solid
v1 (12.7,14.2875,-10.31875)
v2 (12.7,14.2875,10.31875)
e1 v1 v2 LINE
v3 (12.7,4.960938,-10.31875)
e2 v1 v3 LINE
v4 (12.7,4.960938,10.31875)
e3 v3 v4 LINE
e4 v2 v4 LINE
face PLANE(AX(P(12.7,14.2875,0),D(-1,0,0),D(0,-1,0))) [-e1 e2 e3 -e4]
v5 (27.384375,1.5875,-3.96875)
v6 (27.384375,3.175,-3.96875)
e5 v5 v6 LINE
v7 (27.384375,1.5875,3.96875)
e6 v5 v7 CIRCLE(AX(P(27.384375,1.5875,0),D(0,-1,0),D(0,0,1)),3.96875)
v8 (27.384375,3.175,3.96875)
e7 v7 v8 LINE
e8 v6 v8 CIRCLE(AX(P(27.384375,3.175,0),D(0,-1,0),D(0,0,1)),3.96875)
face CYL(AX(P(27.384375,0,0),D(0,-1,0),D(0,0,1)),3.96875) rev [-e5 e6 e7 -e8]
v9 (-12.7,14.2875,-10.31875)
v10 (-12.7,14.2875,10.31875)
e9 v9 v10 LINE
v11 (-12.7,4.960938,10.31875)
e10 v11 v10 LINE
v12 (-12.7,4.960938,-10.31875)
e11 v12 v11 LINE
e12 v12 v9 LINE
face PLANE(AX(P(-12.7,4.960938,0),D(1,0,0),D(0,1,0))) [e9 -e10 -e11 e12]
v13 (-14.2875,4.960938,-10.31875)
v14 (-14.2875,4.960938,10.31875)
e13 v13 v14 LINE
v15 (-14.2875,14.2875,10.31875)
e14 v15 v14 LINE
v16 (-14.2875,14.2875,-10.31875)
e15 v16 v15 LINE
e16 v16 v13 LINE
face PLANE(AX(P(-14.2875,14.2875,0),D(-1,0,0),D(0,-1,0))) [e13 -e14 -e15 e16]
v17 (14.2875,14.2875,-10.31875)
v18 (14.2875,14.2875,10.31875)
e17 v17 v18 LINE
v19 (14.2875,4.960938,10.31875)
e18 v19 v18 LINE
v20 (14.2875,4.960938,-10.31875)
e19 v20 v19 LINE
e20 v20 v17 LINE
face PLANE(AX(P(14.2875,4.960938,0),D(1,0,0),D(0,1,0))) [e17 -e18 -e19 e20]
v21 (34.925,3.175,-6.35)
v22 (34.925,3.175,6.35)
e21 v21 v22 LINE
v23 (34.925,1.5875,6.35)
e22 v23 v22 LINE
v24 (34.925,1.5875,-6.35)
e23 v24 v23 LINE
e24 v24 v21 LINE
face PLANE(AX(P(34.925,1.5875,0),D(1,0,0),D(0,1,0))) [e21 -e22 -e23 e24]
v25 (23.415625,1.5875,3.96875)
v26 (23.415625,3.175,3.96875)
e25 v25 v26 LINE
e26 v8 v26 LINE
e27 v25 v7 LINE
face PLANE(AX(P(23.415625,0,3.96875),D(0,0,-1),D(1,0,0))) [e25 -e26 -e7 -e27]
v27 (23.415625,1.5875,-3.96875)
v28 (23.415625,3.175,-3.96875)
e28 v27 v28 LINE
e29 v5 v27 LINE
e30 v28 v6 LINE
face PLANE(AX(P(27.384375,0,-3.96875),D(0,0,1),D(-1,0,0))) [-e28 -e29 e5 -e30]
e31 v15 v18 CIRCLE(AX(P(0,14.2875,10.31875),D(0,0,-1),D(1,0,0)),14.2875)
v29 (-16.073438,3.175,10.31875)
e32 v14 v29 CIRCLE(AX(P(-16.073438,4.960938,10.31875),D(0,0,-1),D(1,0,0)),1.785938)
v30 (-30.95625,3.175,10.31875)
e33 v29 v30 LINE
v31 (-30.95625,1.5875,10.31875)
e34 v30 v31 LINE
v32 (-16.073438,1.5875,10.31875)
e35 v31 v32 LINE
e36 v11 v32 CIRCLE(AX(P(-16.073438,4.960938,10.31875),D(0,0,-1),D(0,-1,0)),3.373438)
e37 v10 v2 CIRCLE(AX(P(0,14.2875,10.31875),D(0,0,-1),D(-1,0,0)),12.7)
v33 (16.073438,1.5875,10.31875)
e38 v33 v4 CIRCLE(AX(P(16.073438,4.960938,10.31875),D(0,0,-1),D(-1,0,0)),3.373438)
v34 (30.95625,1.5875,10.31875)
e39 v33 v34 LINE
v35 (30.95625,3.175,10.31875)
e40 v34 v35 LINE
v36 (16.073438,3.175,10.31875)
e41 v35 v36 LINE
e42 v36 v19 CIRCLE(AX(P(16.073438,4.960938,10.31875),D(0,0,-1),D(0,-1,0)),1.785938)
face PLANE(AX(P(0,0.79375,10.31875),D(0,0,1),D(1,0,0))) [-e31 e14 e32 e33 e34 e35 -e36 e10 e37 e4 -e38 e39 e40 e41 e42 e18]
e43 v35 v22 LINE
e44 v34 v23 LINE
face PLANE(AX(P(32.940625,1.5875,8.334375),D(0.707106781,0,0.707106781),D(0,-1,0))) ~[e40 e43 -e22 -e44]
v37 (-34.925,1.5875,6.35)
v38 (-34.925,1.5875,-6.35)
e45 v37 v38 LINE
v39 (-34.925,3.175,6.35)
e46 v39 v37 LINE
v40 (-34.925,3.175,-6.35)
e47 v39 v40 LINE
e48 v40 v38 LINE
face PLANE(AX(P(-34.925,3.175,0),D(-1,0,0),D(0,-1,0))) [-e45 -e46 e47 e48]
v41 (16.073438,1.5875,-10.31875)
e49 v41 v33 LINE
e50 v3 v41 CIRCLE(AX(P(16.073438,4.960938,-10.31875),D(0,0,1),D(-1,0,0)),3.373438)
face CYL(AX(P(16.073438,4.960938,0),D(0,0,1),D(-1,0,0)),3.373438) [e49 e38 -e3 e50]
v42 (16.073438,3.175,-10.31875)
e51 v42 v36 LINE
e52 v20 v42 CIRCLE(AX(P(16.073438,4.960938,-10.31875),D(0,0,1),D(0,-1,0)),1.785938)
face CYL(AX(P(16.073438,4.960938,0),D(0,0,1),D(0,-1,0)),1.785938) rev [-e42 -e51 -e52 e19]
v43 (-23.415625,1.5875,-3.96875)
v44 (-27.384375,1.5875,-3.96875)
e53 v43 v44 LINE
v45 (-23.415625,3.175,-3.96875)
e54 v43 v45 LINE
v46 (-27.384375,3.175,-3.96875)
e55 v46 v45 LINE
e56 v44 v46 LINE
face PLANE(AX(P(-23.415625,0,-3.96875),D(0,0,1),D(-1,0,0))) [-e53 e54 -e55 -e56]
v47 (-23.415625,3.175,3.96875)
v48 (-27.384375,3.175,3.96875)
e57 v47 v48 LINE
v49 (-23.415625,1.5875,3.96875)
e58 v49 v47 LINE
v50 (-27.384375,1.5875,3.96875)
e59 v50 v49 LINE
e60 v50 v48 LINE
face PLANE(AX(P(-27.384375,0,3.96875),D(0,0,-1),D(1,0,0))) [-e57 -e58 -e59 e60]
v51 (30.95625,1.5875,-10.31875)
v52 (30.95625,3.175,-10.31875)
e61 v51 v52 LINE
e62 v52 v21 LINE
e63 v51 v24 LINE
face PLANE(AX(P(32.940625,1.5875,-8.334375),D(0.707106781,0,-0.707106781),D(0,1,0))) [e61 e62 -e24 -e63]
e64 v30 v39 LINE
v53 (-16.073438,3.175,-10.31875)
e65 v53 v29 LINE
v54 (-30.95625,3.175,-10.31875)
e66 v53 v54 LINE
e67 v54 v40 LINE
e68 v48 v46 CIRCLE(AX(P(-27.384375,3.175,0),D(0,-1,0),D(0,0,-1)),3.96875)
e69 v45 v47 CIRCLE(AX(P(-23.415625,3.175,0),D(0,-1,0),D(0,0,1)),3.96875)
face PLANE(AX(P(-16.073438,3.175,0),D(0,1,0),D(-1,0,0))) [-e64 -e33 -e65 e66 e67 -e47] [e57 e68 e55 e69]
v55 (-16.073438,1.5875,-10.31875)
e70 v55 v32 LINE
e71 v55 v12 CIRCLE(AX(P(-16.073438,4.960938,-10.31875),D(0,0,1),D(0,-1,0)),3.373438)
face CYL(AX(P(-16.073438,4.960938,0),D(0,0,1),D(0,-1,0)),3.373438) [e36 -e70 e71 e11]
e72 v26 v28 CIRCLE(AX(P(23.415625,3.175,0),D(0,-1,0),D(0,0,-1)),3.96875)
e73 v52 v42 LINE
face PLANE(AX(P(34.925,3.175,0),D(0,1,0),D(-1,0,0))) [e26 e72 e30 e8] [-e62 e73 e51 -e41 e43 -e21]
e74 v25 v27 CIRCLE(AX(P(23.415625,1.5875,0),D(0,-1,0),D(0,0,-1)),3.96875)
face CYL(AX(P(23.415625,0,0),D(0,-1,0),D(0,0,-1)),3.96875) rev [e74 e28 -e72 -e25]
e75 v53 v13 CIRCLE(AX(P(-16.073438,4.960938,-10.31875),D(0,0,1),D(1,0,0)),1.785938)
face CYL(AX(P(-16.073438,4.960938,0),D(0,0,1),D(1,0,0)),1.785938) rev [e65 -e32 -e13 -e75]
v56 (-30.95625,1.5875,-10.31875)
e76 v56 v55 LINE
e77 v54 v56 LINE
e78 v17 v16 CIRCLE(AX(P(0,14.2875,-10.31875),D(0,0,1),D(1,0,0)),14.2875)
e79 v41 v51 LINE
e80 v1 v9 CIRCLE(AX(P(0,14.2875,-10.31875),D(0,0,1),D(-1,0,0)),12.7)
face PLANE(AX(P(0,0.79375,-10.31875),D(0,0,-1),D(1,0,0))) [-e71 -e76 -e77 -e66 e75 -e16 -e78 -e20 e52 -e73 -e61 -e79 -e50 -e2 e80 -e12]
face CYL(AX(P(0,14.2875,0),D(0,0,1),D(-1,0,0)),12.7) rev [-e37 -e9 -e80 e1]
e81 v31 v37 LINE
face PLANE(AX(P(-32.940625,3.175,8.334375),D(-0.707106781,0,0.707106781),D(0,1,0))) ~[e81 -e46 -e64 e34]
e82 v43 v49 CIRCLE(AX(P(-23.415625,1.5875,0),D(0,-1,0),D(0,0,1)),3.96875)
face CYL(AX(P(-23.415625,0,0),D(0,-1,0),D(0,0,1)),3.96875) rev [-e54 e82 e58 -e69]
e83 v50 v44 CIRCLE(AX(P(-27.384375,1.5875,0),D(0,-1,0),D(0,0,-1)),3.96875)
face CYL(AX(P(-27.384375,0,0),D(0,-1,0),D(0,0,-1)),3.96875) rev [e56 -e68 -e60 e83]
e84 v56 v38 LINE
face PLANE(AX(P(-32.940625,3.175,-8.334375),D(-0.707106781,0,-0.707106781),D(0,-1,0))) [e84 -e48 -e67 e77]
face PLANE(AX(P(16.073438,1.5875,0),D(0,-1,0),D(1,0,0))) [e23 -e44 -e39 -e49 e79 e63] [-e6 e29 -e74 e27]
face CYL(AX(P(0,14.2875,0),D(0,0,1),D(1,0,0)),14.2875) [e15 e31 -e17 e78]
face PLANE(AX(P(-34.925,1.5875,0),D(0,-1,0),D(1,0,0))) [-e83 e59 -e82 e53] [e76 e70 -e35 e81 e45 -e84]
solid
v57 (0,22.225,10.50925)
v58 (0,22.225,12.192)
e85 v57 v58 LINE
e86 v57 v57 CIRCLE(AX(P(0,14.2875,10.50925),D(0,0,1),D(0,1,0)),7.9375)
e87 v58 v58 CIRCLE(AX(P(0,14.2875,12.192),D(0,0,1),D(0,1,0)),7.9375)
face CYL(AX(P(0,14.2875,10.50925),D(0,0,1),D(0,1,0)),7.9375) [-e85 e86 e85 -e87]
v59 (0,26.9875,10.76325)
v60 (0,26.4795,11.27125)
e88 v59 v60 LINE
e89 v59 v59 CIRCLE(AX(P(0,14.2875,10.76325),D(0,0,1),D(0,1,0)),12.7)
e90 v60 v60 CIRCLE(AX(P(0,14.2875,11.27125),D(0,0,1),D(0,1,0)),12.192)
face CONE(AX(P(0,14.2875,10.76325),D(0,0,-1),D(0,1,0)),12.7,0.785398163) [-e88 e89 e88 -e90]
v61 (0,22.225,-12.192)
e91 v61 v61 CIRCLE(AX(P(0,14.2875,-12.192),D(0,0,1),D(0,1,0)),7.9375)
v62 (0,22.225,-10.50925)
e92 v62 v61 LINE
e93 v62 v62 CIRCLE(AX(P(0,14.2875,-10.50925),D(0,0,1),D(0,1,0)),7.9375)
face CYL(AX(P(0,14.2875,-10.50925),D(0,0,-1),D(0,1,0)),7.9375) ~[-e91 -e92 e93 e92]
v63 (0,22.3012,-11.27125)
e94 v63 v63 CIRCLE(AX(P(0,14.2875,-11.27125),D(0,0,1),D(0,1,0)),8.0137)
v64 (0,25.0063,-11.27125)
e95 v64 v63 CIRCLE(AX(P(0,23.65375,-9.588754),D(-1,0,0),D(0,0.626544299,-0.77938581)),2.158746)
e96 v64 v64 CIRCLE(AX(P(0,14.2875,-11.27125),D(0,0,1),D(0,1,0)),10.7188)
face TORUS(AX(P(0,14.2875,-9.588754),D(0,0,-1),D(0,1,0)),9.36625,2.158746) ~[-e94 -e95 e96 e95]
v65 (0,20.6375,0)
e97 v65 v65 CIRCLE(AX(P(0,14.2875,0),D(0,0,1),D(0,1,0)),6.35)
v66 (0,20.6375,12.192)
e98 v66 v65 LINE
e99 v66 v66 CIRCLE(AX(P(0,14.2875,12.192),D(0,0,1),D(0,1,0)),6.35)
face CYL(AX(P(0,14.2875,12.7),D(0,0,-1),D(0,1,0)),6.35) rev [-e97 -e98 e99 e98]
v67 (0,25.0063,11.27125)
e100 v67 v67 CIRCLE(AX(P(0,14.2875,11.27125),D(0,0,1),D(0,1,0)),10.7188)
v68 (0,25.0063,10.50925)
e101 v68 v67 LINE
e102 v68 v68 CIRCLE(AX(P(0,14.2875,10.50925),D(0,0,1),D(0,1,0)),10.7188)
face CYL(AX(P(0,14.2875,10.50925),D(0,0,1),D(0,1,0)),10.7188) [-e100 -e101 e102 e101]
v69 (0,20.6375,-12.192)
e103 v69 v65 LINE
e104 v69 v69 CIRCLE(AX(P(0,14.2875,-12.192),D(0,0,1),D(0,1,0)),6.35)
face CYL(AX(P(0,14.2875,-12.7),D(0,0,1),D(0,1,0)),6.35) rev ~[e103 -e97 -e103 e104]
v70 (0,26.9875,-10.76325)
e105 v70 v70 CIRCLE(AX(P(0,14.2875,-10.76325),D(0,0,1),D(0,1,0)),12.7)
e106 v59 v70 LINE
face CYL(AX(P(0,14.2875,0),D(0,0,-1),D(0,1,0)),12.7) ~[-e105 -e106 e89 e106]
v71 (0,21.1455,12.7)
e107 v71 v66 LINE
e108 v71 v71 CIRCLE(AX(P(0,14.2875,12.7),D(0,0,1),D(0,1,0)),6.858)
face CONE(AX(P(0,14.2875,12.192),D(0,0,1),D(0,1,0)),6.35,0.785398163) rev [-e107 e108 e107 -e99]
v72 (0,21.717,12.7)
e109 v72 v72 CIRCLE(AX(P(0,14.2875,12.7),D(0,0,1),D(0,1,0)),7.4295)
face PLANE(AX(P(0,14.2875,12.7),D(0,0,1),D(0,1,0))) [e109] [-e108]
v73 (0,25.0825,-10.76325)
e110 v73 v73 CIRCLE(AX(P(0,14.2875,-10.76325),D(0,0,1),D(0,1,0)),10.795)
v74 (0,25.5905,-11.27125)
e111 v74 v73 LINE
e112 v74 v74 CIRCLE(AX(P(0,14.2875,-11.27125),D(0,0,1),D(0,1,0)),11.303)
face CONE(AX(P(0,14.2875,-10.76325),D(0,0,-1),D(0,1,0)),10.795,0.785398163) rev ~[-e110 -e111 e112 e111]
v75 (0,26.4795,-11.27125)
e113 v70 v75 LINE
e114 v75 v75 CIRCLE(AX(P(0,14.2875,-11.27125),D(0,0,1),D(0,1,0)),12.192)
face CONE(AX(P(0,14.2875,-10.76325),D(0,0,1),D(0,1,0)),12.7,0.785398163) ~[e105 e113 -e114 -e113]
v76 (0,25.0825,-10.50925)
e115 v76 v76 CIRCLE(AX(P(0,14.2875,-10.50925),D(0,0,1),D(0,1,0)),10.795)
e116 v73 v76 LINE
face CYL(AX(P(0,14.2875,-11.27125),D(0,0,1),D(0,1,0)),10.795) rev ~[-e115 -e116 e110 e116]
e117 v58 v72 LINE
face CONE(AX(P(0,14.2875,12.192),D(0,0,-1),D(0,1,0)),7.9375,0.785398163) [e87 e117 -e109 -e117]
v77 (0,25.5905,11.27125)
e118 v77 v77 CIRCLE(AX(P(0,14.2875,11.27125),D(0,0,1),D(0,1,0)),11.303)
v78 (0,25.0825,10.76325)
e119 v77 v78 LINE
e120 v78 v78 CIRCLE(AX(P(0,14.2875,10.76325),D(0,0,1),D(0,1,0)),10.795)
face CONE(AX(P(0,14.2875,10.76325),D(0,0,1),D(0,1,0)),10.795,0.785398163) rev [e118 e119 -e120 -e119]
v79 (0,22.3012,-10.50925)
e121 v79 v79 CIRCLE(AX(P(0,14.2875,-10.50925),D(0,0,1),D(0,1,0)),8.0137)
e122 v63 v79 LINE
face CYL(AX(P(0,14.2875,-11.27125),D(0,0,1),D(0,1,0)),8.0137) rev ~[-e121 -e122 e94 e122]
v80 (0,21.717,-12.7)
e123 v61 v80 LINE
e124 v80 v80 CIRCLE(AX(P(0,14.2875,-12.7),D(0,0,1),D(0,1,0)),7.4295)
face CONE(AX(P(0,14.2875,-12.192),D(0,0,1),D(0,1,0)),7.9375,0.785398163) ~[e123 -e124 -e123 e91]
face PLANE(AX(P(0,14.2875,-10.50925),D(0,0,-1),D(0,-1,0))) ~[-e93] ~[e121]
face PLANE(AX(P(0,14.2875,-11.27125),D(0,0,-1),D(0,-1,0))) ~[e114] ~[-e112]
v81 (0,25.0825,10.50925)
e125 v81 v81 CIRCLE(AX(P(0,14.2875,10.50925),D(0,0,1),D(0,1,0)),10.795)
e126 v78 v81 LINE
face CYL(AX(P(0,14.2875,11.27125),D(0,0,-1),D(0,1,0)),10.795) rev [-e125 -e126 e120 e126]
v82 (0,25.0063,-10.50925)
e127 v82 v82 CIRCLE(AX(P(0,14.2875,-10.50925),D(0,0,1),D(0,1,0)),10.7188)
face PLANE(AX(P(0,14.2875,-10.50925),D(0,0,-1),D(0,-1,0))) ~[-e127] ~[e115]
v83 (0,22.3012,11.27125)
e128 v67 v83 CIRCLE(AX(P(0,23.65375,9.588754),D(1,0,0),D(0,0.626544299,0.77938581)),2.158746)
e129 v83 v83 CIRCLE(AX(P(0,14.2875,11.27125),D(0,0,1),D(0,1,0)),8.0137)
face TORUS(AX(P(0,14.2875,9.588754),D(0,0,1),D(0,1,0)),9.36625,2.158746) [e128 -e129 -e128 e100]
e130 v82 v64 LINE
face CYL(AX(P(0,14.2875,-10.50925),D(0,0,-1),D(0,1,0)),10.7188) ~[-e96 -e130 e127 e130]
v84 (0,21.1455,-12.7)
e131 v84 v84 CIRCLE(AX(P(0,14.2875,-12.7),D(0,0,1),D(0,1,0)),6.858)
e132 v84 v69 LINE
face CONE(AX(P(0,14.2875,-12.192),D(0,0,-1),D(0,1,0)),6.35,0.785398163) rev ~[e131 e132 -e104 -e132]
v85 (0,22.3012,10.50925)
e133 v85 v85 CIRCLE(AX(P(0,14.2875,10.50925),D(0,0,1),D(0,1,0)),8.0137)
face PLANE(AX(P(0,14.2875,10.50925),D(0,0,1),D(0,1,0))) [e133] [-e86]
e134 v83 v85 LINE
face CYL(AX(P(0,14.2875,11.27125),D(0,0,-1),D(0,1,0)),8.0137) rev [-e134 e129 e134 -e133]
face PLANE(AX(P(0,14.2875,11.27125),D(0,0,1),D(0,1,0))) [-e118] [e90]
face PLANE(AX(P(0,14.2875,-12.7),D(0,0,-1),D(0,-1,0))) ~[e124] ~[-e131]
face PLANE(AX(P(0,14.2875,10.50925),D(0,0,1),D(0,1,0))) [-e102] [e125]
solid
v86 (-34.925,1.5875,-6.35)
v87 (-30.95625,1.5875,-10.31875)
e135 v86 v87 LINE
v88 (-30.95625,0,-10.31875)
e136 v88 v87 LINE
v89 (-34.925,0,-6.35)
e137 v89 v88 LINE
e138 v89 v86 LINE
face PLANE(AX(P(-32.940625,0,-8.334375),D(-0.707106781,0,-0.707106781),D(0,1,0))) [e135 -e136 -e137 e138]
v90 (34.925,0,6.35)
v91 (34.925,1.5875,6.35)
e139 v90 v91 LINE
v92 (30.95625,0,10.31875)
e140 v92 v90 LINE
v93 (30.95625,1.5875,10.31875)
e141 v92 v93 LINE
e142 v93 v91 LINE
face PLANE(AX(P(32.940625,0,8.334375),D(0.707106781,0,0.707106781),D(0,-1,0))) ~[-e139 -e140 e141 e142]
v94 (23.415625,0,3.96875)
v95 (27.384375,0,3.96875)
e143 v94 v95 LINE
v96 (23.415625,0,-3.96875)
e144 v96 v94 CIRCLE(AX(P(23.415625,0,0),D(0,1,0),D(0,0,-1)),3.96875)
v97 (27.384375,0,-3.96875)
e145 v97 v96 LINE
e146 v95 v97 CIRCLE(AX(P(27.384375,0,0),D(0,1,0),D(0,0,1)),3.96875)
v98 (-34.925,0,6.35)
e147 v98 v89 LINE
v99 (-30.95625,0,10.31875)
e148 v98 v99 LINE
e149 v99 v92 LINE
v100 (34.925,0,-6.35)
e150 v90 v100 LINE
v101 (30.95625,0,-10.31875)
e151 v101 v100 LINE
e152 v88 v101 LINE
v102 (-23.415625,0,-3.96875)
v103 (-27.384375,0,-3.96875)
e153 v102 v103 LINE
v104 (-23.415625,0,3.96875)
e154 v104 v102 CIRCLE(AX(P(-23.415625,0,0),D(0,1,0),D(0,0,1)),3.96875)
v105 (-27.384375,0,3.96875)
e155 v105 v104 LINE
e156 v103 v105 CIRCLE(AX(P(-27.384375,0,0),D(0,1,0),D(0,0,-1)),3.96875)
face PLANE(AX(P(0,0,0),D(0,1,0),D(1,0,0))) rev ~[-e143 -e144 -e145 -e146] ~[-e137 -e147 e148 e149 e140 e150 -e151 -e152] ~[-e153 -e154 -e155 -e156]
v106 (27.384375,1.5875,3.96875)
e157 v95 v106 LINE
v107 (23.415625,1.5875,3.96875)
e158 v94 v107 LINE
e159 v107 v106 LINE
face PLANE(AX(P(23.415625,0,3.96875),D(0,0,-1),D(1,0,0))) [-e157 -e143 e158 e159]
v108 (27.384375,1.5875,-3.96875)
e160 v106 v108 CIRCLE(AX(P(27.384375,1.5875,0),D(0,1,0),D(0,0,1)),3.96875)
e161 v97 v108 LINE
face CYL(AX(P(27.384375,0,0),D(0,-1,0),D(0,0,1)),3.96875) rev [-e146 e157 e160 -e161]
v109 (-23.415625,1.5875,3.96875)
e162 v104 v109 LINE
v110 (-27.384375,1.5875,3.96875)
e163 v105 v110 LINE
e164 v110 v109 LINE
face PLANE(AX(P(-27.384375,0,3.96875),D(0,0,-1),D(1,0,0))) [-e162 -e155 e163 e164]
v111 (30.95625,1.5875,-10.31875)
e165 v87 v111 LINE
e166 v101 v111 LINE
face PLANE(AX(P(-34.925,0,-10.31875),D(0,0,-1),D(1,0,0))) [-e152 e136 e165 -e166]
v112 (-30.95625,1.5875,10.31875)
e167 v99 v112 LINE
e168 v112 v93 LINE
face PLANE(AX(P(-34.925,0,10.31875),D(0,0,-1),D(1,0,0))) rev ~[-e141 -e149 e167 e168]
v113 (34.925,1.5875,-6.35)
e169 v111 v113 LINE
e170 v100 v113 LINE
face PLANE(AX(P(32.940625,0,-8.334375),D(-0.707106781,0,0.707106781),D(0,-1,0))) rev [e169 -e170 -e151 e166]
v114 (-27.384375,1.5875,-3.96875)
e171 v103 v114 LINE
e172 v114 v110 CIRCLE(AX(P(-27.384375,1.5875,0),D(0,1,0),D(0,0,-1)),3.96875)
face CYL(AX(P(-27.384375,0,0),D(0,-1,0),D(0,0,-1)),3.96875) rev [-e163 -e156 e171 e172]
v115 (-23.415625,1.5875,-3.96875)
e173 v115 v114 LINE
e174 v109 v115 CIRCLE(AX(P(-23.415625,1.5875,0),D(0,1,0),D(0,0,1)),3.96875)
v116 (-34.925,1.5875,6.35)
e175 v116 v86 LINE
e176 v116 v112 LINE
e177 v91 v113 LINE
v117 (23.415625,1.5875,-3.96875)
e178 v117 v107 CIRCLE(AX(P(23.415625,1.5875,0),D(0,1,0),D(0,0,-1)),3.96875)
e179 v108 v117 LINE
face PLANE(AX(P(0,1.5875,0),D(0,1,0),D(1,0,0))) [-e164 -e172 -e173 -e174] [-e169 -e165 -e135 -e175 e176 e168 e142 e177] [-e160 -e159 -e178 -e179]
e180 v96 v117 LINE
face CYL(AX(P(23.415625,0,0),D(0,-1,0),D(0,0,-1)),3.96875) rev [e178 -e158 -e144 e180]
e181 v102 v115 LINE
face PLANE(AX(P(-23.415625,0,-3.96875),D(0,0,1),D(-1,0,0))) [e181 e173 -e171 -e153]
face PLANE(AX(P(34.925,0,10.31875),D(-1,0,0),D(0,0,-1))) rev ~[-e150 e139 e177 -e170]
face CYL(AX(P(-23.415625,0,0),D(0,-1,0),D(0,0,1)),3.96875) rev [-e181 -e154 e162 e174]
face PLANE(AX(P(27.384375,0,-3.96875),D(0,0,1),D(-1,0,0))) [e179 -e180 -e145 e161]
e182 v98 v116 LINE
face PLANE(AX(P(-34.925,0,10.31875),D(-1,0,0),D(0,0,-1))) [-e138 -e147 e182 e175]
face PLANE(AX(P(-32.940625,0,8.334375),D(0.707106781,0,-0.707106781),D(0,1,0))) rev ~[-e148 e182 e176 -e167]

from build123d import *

# Parameters (mm, degrees)
SKETCH1_W                  = 69.85
SKETCH1_H                  = 20.6375
EXTRUDE1_DEPTH             = 1.5875
EXTRUDE2_REACH             = 38.452
EXTRUDE2_DIRECTION_2_REACH = 38.452
CUT_EXTRUDE1_DEPTH         = 47.289986515
CHAMFER3_SIZE              = 0.508
CHAMFER1_SIZE              = 3.96875
CHAMFER2_SIZE              = 3.96875


with BuildPart() as part:
    # Sketch1 → Extrude1 (new body)
    with BuildSketch(Plane(origin=(0, 0, 0), x_dir=(1, 0, 0), z_dir=(0, 1, 0))):
        Rectangle(SKETCH1_W, SKETCH1_H)
        with BuildLine():
            Line((-27.384375, -3.96875), (-23.415625, -3.96875))
            ThreePointArc((-23.415625, -3.96875), (-19.446875, 0), (-23.415625, 3.96875))
            Line((-23.415625, 3.96875), (-27.384375, 3.96875))
            ThreePointArc((-27.384375, 3.96875), (-31.353125, 0), (-27.384375, -3.96875))
        make_face(mode=Mode.SUBTRACT)
        with BuildLine():
            Line((23.415625, -3.96875), (27.384375, -3.96875))
            ThreePointArc((27.384375, -3.96875), (31.353125, 0), (27.384375, 3.96875))
            Line((27.384375, 3.96875), (23.415625, 3.96875))
            ThreePointArc((23.415625, 3.96875), (19.446875, 0), (23.415625, -3.96875))
        make_face(mode=Mode.SUBTRACT)
    extrude(amount=EXTRUDE1_DEPTH)


with BuildPart() as body_2:

    # Extrude2: up to this face of the body (flat: up to its plane)
    extrude2_end = Plane(part.part.faces().sort_by_distance((0, 0.79375, 10.31875))[0])
    # Sketch2 → Extrude2 (new, up to the picked face)
    with BuildSketch(Plane.XY, mode=Mode.PRIVATE) as extrude2_sk1:
        with BuildLine():
            Line((-34.925, 1.5875), (-16.0734375, 1.5875))
            ThreePointArc((-16.0734375, 1.5875), (-13.688056968, 2.575556968), (-12.7, 4.9609375))
            Line((-12.7, 4.9609375), (-12.7, 14.2875))
            ThreePointArc((-12.7, 14.2875), (0, 26.9875), (12.7, 14.2875))
            Line((12.7, 14.2875), (12.7, 4.9609375))
            ThreePointArc((12.7, 4.9609375), (13.688056968, 2.575556968), (16.0734375, 1.5875))
            Line((16.0734375, 1.5875), (34.925, 1.5875))
            Line((34.925, 1.5875), (34.925, 3.175))
            Line((34.925, 3.175), (16.0734375, 3.175))
            ThreePointArc((16.0734375, 3.175), (14.810588983, 3.698088983), (14.2875, 4.9609375))
            Line((14.2875, 4.9609375), (14.2875, 14.2875))
            ThreePointArc((14.2875, 14.2875), (0, 28.575), (-14.2875, 14.2875))
            Line((-14.2875, 14.2875), (-14.2875, 4.9609375))
            ThreePointArc((-14.2875, 4.9609375), (-14.810588983, 3.698088983), (-16.0734375, 3.175))
            Line((-16.0734375, 3.175), (-34.925, 3.175))
            Line((-34.925, 3.175), (-34.925, 1.5875))
        make_face()
    extrude2_tool1 = split(extrude(extrude2_sk1.sketch, amount=EXTRUDE2_REACH, mode=Mode.PRIVATE), bisect_by=extrude2_end, keep=Keep.BOTH, mode=Mode.PRIVATE)
    add(extrude2_tool1.solids().sort_by(Axis((-13.538678, 9.624219, 0), (0, 0, 1)))[0])


    # Extrude2 direction 2: up to this face of the body (flat: up to its plane)
    extrude2_direction_2_end = Plane(part.part.faces().sort_by_distance((0, 0.79375, -10.31875))[0])
    # Sketch2 → Extrude2 direction 2 (add, up to the picked face)
    with BuildSketch(Plane.XY, mode=Mode.PRIVATE) as extrude2_direction_2_sk1:
        with BuildLine():
            Line((-34.925, 1.5875), (-16.0734375, 1.5875))
            ThreePointArc((-16.0734375, 1.5875), (-13.688056968, 2.575556968), (-12.7, 4.9609375))
            Line((-12.7, 4.9609375), (-12.7, 14.2875))
            ThreePointArc((-12.7, 14.2875), (0, 26.9875), (12.7, 14.2875))
            Line((12.7, 14.2875), (12.7, 4.9609375))
            ThreePointArc((12.7, 4.9609375), (13.688056968, 2.575556968), (16.0734375, 1.5875))
            Line((16.0734375, 1.5875), (34.925, 1.5875))
            Line((34.925, 1.5875), (34.925, 3.175))
            Line((34.925, 3.175), (16.0734375, 3.175))
            ThreePointArc((16.0734375, 3.175), (14.810588983, 3.698088983), (14.2875, 4.9609375))
            Line((14.2875, 4.9609375), (14.2875, 14.2875))
            ThreePointArc((14.2875, 14.2875), (0, 28.575), (-14.2875, 14.2875))
            Line((-14.2875, 14.2875), (-14.2875, 4.9609375))
            ThreePointArc((-14.2875, 4.9609375), (-14.810588983, 3.698088983), (-16.0734375, 3.175))
            Line((-16.0734375, 3.175), (-34.925, 3.175))
            Line((-34.925, 3.175), (-34.925, 1.5875))
        make_face()
    extrude2_direction_2_tool1 = split(extrude(extrude2_direction_2_sk1.sketch, amount=-EXTRUDE2_DIRECTION_2_REACH, mode=Mode.PRIVATE), bisect_by=extrude2_direction_2_end, keep=Keep.BOTH, mode=Mode.PRIVATE)
    add(extrude2_direction_2_tool1.solids().sort_by(Axis((-13.538678, 9.624219, 0), (0, 0, -1)))[0])

    # Sketch3 → Cut-Extrude1 (cut, through all)
    with BuildSketch(Plane(origin=(0, 0, 0), x_dir=(1, 0, 0), z_dir=(0, 1, 0))):
        with BuildLine():
            Line((23.415625, -3.96875), (27.384375, -3.96875))
            ThreePointArc((27.384375, -3.96875), (31.353125, 0), (27.384375, 3.96875))
            Line((27.384375, 3.96875), (23.415625, 3.96875))
            ThreePointArc((23.415625, 3.96875), (19.446875, 0), (23.415625, -3.96875))
        make_face()
        with BuildLine():
            Line((-27.384375, -3.96875), (-23.415625, -3.96875))
            ThreePointArc((-23.415625, -3.96875), (-19.446875, 0), (-23.415625, 3.96875))
            Line((-23.415625, 3.96875), (-27.384375, 3.96875))
            ThreePointArc((-27.384375, 3.96875), (-31.353125, 0), (-27.384375, -3.96875))
        make_face()
    extrude(amount=CUT_EXTRUDE1_DEPTH, mode=Mode.SUBTRACT)

    # Chamfer2
    chamfer2_edges = [body_2.edges().sort_by_distance(p)[0] for p in [
        (34.925, 2.38125, 10.31875),
        (-34.925, 2.38125, 10.31875),
        (-34.925, 2.38125, -10.31875),
        (34.925, 2.38125, -10.31875),
    ]]
    chamfer(chamfer2_edges, length=CHAMFER2_SIZE)


with BuildPart() as body_3:
    # Sketch4 → Revolve1 (revolve)
    with BuildSketch(Plane(origin=(0, 0, 0), x_dir=(0, 0, -1), z_dir=(1, 0, 0))):
        with BuildLine():
            Line((0, 26.9875), (-11.27125, 26.9875))
            Line((-11.27125, 26.9875), (-11.27125, 25.0825))
            Line((-11.27125, 25.0825), (-10.50925, 25.0825))
            Line((-10.50925, 25.0825), (-10.50925, 25.0063))
            Line((-10.50925, 25.0063), (-11.27125, 25.0063))
            ThreePointArc((-11.27125, 25.0063), (-11.7475, 23.65375), (-11.27125, 22.3012))
            Line((-11.27125, 22.3012), (-10.50925, 22.3012))
            Line((-10.50925, 22.3012), (-10.50925, 22.225))
            Line((-10.50925, 22.225), (-11.27125, 22.225))
            Line((-11.27125, 22.225), (-12.7, 22.225))
            Line((-12.7, 22.225), (-12.7, 20.6375))
            Line((-12.7, 20.6375), (0, 20.6375))
            Line((0, 20.6375), (0, 26.9875))
        make_face()
    revolve(axis=Axis((0, 14.2875, 0), (0, 0, 1)))

    # Chamfer3
    chamfer3_edges = [body_3.edges().sort_by_distance(p)[0] for p in [
        (0, 3.4925, 11.27125),
        (0, 1.5875, 11.27125),
        (0, 7.9375, 12.7),
        (0, 6.35, 12.7),
    ]]
    chamfer(chamfer3_edges, length=CHAMFER3_SIZE)

    # Mirror2: body 3 across plane


with BuildPart() as body_3_1:
    add(body_3.part)
    add(body_3.part.mirror(Plane.XY))


with BuildPart() as part_1:
    add(part.part)

    # Chamfer1
    chamfer1_edges = [part_1.edges().sort_by_distance(p)[0] for p in [
        (-34.925, 0.79375, -10.31875),
        (34.925, 0.79375, -10.31875),
        (34.925, 0.79375, 10.31875),
        (-34.925, 0.79375, 10.31875),
    ]]
    chamfer(chamfer1_edges, length=CHAMFER1_SIZE)


solid = Compound([body_2.part, body_3_1.part, part_1.part])
